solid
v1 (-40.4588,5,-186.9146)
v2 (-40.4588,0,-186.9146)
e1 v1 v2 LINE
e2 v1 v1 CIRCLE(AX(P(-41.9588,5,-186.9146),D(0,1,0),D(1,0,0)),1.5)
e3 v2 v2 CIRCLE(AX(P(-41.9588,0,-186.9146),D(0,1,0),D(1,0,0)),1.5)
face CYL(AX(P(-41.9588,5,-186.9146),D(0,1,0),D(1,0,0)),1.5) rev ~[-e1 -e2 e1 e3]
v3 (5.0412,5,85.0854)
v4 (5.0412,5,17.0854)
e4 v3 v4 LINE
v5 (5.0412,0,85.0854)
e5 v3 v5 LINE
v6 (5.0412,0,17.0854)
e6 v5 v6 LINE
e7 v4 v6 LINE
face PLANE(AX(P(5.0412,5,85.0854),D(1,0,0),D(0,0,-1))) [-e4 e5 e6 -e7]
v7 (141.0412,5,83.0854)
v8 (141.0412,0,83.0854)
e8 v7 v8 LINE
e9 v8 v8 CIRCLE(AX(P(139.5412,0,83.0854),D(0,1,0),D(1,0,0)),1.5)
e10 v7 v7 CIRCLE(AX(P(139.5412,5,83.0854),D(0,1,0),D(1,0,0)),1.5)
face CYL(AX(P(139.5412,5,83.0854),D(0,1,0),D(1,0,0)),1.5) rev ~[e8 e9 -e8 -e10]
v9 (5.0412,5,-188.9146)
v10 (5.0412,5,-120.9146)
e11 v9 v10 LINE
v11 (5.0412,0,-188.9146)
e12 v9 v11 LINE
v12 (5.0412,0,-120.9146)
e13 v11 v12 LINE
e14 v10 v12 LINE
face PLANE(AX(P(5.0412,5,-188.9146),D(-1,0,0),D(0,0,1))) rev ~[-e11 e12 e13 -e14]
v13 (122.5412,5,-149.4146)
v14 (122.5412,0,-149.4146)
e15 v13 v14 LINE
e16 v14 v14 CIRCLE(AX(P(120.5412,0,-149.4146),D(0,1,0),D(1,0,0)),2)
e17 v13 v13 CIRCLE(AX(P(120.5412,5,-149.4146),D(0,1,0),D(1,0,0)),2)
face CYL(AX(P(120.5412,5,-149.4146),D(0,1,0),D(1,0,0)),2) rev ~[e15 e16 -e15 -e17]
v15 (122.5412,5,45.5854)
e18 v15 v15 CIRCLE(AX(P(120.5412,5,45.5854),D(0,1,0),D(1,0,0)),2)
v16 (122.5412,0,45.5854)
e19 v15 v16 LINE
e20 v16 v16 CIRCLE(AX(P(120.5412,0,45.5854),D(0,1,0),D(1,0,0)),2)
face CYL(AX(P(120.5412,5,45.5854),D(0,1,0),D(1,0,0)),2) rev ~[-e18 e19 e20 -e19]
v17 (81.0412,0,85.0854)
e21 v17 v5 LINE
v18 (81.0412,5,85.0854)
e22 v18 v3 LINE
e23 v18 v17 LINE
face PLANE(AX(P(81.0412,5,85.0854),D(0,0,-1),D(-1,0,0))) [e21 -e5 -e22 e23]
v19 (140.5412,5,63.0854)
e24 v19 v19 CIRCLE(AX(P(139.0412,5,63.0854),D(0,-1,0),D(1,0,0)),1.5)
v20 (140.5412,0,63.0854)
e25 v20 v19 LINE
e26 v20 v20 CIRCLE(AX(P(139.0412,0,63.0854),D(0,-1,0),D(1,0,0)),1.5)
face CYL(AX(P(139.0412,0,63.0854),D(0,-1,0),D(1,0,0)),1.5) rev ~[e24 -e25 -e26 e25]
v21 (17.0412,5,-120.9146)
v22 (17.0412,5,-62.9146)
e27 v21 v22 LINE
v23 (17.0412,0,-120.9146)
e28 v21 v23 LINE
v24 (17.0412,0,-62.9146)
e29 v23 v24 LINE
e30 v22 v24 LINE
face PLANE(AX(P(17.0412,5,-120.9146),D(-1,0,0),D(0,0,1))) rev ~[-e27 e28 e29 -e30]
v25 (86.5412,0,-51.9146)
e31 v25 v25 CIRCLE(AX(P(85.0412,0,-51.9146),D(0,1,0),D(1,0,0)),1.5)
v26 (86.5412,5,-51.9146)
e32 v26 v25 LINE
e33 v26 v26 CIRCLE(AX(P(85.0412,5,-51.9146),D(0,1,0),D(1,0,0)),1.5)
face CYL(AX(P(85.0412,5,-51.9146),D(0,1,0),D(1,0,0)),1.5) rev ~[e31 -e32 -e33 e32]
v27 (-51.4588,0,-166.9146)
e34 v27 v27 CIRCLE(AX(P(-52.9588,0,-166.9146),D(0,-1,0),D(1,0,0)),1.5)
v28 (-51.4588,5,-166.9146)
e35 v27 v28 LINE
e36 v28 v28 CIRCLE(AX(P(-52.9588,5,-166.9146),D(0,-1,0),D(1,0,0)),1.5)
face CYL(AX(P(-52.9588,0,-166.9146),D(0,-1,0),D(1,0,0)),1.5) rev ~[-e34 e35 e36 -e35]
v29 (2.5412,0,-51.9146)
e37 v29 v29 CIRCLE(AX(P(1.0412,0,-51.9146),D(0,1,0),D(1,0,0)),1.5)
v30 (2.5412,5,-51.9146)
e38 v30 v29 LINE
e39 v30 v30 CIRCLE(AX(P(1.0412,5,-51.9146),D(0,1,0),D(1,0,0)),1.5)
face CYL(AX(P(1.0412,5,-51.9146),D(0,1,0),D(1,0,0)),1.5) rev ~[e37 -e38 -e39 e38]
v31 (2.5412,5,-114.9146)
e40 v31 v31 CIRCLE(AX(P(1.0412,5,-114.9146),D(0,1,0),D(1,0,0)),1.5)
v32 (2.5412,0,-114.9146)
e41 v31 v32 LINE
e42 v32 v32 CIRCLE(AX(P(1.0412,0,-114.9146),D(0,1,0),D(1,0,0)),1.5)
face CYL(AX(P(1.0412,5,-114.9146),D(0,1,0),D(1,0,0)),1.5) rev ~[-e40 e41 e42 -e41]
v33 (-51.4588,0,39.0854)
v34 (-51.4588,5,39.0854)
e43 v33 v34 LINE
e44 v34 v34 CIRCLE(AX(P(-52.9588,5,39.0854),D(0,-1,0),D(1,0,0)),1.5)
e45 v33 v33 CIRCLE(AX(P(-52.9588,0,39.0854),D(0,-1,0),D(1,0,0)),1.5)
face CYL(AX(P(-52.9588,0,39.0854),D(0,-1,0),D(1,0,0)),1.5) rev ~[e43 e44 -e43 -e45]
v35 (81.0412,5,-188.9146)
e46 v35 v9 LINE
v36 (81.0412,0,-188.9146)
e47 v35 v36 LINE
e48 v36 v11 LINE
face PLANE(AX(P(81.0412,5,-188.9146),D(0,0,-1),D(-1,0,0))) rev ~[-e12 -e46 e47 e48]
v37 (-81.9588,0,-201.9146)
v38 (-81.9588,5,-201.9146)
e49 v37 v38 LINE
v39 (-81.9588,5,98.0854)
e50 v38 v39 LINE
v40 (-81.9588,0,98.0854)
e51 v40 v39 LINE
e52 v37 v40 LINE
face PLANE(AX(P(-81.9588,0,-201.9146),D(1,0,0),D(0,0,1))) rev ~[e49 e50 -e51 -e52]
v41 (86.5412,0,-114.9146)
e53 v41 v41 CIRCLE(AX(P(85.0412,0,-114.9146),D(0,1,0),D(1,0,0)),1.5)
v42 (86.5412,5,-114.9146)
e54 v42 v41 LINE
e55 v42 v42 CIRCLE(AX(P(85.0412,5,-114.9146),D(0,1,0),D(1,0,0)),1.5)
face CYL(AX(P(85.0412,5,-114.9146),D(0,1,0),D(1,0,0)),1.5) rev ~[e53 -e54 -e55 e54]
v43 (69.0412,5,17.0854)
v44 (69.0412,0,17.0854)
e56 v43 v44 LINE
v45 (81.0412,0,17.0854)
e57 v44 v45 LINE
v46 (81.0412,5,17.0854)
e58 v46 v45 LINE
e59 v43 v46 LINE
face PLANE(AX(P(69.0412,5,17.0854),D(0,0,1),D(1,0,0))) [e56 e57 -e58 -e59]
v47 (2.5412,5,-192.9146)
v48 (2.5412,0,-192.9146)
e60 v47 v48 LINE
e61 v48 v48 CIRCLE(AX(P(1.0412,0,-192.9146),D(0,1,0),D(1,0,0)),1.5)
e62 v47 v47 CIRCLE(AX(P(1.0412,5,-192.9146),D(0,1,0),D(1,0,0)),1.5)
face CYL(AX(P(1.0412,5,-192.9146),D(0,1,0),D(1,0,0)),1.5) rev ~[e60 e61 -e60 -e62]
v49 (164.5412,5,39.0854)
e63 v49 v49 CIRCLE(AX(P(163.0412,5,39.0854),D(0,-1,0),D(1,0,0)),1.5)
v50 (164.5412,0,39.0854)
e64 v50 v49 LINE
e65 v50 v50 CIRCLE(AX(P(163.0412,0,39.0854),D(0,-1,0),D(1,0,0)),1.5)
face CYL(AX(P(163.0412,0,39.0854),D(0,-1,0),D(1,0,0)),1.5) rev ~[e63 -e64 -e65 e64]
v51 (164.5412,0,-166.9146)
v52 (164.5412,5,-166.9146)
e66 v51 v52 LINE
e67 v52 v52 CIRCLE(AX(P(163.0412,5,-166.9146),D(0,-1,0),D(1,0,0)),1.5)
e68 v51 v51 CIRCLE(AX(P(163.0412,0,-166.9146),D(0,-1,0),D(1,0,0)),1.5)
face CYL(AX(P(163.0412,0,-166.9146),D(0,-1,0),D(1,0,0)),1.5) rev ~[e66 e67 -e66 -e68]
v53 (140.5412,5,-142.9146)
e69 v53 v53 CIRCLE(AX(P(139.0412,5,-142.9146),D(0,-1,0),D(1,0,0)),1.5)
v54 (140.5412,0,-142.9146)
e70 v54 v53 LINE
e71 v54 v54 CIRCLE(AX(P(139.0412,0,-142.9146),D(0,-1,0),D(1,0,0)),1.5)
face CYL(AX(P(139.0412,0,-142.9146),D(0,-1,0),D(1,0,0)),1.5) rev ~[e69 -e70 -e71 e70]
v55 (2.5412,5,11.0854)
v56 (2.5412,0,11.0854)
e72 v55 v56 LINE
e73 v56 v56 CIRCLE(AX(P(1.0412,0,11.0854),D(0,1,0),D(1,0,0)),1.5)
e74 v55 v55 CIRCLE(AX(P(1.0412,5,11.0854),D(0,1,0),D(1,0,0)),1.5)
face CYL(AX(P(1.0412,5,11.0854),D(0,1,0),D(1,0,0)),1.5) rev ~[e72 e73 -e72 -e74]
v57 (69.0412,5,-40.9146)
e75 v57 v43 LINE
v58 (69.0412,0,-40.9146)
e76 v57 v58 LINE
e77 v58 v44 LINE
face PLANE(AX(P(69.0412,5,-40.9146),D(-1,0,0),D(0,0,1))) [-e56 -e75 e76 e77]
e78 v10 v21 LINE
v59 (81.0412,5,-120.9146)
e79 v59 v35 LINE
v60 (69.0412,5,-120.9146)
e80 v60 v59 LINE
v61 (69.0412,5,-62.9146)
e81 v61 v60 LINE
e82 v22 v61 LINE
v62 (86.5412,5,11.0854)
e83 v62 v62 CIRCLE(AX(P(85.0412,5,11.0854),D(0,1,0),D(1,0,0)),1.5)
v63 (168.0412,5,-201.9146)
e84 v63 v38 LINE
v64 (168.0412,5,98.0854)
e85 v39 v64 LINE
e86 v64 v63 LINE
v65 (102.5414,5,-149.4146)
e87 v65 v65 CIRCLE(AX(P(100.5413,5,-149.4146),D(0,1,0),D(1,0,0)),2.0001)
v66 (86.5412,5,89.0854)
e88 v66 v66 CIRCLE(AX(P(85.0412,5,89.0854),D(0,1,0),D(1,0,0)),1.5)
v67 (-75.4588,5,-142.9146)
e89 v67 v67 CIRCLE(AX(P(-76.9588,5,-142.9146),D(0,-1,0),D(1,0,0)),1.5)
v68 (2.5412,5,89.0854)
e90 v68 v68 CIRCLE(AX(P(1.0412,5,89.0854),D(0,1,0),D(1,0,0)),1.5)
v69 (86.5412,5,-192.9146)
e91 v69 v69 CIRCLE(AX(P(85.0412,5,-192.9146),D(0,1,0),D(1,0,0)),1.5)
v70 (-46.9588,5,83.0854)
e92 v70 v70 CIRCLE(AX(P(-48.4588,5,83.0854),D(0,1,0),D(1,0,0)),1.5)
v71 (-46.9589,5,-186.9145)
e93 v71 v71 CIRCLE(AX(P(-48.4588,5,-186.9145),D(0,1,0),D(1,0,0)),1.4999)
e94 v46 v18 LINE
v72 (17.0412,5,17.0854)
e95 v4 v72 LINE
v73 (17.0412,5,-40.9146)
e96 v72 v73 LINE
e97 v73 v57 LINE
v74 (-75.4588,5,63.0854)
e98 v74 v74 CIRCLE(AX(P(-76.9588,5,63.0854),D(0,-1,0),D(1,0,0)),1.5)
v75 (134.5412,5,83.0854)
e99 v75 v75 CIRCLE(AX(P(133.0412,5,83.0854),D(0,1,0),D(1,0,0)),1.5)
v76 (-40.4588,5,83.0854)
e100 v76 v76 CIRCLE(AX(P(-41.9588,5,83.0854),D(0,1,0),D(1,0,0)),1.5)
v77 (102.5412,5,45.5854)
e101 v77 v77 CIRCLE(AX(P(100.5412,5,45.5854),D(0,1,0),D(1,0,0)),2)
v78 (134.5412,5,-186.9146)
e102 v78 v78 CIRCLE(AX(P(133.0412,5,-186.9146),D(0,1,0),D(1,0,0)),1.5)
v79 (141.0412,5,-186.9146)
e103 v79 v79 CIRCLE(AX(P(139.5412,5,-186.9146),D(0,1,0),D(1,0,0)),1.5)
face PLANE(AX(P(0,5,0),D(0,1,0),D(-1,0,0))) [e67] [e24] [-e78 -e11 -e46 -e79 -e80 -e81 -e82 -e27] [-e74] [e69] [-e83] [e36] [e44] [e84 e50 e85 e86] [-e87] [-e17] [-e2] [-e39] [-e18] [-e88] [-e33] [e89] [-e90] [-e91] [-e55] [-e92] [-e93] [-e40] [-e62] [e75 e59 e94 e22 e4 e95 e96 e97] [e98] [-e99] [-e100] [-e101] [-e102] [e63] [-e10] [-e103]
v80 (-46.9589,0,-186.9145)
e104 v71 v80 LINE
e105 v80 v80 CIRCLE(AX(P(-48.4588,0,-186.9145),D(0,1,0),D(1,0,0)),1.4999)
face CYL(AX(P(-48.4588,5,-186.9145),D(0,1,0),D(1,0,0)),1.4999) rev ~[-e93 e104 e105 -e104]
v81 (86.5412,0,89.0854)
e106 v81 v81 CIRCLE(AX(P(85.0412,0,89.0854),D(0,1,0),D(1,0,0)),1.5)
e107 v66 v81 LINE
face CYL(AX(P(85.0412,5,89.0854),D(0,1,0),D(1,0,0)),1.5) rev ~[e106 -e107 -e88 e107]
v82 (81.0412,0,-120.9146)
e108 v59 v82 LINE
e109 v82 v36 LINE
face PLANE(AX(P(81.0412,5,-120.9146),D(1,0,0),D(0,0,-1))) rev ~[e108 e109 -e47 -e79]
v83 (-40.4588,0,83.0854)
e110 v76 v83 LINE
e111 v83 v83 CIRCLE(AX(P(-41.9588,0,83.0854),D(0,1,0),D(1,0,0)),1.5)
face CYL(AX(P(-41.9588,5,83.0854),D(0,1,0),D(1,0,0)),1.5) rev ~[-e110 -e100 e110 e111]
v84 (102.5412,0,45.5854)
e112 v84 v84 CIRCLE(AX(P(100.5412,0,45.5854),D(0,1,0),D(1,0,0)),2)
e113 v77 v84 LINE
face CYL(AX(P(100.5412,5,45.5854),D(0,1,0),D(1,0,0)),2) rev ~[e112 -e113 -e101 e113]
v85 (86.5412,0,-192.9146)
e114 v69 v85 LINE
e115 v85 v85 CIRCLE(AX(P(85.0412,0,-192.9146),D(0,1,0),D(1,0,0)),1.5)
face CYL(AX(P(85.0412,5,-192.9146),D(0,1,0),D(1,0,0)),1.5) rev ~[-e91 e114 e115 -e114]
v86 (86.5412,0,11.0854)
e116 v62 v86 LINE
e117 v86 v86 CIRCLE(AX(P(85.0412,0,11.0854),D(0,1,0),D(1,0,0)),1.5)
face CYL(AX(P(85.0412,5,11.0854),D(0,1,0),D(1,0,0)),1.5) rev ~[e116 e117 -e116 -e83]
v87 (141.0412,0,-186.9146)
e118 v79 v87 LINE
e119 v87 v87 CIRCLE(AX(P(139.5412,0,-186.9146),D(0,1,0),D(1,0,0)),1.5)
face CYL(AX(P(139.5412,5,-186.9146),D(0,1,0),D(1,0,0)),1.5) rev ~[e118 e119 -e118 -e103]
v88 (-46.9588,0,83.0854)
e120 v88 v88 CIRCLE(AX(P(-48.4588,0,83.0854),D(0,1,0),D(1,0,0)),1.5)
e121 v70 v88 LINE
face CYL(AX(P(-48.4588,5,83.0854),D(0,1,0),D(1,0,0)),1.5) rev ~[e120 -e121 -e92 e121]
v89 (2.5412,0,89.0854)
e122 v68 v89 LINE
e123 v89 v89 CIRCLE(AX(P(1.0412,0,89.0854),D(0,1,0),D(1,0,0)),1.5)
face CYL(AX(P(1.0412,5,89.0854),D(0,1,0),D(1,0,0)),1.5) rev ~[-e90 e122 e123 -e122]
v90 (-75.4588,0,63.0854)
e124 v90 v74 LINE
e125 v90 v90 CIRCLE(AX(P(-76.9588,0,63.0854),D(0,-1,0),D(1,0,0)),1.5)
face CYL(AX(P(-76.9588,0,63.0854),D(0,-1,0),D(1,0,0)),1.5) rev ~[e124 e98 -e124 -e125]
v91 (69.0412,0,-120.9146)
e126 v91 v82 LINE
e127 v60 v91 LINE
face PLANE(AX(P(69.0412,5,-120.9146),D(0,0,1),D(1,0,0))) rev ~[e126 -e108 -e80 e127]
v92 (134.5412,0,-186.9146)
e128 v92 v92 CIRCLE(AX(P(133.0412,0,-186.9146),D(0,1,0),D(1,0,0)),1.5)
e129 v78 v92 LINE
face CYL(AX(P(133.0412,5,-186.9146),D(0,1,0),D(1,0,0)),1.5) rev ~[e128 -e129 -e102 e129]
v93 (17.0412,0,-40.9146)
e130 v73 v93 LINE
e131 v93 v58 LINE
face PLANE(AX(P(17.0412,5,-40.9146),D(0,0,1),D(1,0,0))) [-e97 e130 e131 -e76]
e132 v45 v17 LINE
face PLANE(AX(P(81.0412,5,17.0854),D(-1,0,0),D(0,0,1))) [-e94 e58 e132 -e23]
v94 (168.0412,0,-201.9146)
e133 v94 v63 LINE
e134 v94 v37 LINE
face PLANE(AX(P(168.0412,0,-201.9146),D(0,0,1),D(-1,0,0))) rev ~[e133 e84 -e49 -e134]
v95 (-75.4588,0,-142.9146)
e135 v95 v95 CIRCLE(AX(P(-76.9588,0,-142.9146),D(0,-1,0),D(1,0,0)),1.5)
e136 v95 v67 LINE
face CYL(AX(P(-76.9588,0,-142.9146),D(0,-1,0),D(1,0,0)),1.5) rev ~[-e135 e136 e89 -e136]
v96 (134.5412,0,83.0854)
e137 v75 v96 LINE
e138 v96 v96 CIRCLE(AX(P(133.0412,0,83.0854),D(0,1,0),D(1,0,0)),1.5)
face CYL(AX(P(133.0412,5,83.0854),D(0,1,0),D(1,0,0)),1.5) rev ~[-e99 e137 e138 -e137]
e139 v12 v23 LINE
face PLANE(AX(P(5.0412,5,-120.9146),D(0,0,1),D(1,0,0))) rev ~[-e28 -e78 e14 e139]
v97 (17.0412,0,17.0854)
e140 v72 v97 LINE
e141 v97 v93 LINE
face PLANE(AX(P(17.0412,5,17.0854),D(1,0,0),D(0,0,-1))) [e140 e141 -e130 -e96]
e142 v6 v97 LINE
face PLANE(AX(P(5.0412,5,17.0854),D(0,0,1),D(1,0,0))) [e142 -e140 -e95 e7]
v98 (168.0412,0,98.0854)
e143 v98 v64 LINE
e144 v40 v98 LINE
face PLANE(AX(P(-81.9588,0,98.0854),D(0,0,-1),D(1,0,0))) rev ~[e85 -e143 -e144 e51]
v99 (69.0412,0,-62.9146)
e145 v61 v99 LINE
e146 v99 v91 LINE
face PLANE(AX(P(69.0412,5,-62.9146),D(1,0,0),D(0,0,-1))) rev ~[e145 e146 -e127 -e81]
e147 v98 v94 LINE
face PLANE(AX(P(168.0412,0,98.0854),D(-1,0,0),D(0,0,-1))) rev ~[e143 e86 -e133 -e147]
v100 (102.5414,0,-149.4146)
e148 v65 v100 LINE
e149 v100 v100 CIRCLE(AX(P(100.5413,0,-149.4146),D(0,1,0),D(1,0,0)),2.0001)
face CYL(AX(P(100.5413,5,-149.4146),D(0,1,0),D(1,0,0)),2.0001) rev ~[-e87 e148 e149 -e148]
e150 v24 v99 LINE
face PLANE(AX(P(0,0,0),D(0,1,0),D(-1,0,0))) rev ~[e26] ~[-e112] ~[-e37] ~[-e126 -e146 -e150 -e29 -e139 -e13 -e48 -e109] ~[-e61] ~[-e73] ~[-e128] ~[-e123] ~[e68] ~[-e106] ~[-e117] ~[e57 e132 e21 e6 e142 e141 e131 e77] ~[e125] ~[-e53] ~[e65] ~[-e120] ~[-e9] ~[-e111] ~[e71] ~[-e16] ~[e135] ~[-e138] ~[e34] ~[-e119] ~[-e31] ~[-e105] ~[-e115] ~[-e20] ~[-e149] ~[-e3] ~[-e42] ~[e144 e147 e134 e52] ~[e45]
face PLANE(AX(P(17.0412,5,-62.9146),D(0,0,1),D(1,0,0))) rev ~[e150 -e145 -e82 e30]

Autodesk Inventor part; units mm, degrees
ref_plane "YZ Plane" through (0, 0, 0) normal (1, 0, 0) x (0, 1, 0)
ref_plane "XZ Plane" through (0, 0, 0) normal (0, 1, 0) x (-1, 0, 0)
ref_plane "XY Plane" through (0, 0, 0) normal (0, 0, 1) x (1, 0, 0)
sketch "Esquisse1" plane through (0, 0, 0) normal (0, 1, 0) x (-1, 0, 0)
  line L0 (81.9588, 98.0854) -> (-168.0412, 98.0854)
  line L1 (-168.0412, 98.0854) -> (-168.0412, -201.9146)
  line L2 (-168.0412, -201.9146) -> (81.9588, -201.9146)
  line L3 (81.9588, -201.9146) -> (81.9588, 98.0854)
  point P0 (0, 0)
  dimension "d0" = 300
  dimension "d1" = 250
extrude "Extrusion1" add sketch "Esquisse1" along normal blind 5
sketch "Sketch3" plane through (0, 5, 0) normal (0, 1, 0) x (1, 0, 0)
  line L0 (81.0412, -85.0854) -> (5.0412, -85.0854)
  line L1 (5.0412, -85.0854) -> (5.0412, -17.0854)
  line L2 (81.0412, -17.0854) -> (81.0412, -85.0854)
  line L3 (-81.9588, -98.0854) -> (168.0412, -98.0854) projected
  line L4 (168.0412, -98.0854) -> (168.0412, 201.9146) projected
  line L5 (17.0412, -17.0854) -> (17.0412, 40.9146)
  line L6 (17.0412, 40.9146) -> (69.0412, 40.9146)
  line L7 (69.0412, 40.9146) -> (69.0412, -17.0854)
  line L8 (5.0412, -17.0854) -> (17.0412, -17.0854)
  line L9 (69.0412, -17.0854) -> (81.0412, -17.0854)
  line L10 (81.0412, 188.9146) -> (5.0412, 188.9146)
  line L11 (5.0412, 188.9146) -> (5.0412, 120.9146)
  line L12 (81.0412, 120.9146) -> (81.0412, 188.9146)
  line L13 (168.0412, 201.9146) -> (-81.9588, 201.9146) projected
  line L14 (17.0412, 120.9146) -> (17.0412, 62.9146)
  line L15 (17.0412, 62.9146) -> (69.0412, 62.9146)
  line L16 (69.0412, 62.9146) -> (69.0412, 120.9146)
  line L17 (5.0412, 120.9146) -> (17.0412, 120.9146)
  line L18 (69.0412, 120.9146) -> (81.0412, 120.9146)
  circle A0 centre (85.0412, 51.9146) radius 1.5
  line L19 (-81.9588, 201.9146) -> (-81.9588, -98.0854) projected
  circle A1 centre (1.0412, 51.9146) radius 1.5
  point P0 (0, 0)
  dimension "d17" = 76
  dimension "d18" = 68
  dimension "d19" = 13
  dimension "d20" = 87
  dimension "d21" = 12
  dimension "d22" = 12
  dimension "d23" = 58
  dimension "d24" = 68
  dimension "d25" = 52
  dimension "d26" = 13
  dimension "d27" = 76
  dimension "d28" = 68
  dimension "d29" = 87
  dimension "d30" = 12
  dimension "d31" = 12
  dimension "d32" = 58
  dimension "d33" = 52
  dimension "d34" = 68
  dimension "d39" = 3
  dimension "d53" = 83
  dimension "d54" = 150
  dimension "d58" = 3
  dimension "d59" = 83
  dimension "d60" = 150
extrude "Extrusion3" cut sketch "Sketch3" against normal through all contours L0 L1 L8 L5 L6 L7 L9 L2 | L12 L18 L16 L15 L14 L17 L11 L10 | A0 | A1
sketch "Sketch4" plane through (0, 5, 0) normal (0, 1, 0) x (1, 0, 0)
  circle A0 centre (1.0412, -89.0854) radius 1.5 projected
  circle A1 centre (1.0412, -11.0854) radius 1.5 projected
  circle A2 centre (85.0412, -89.0854) radius 1.5 projected
  circle A3 centre (85.0412, -11.0854) radius 1.5 projected
  circle A4 centre (1.0412, 114.9146) radius 1.5 projected
  circle A5 centre (1.0412, 192.9146) radius 1.5 projected
  circle A6 centre (85.0412, 192.9146) radius 1.5 projected
  circle A7 centre (85.0412, 114.9146) radius 1.5 projected
  point P0 (0, 0)
extrude "Extrusion4" cut sketch "Sketch4" against normal up to next
sketch "Esquisse5" plane through (0, 5, 0) normal (0, 1, 0) x (1, 0, 0)
  circle A0 centre (139.5412, -83.0854) radius 1.5 projected
  circle A1 centre (133.0412, -83.0854) radius 1.5 projected
  circle A2 centre (133.0412, 186.9146) radius 1.5 projected
  circle A3 centre (139.5412, 186.9146) radius 1.5 projected
  circle A4 centre (-41.9588, 186.9146) radius 1.5 projected
  circle A5 centre (-48.4588, 186.9145) radius 1.4999 projected
  circle A6 centre (-41.9588, -83.0854) radius 1.5 projected
  circle A7 centre (85.0412, 192.9146) radius 1.5 projected
  circle A8 centre (1.0412, 114.9146) radius 1.5 projected
  circle A9 centre (85.0412, -89.0854) radius 1.5 projected
  circle A10 centre (1.0412, -89.0854) radius 1.5 projected
  circle A11 centre (1.0412, -11.0854) radius 1.5 projected
  circle A12 centre (85.0412, -11.0854) radius 1.5 projected
  circle A13 centre (1.0412, 192.9146) radius 1.5 projected
  circle A14 centre (85.0412, 114.9146) radius 1.5 projected
  line L0 (81.0412, -17.0854) -> (81.0412, -85.0854) projected
  line L1 (81.0412, -85.0854) -> (5.0412, -85.0854) projected
  line L2 (5.0412, -85.0854) -> (5.0412, -17.0854) projected
  line L3 (5.0412, -17.0854) -> (17.0412, -17.0854) projected
  line L4 (17.0412, -17.0854) -> (17.0412, 40.9146) projected
  line L5 (17.0412, 40.9146) -> (69.0412, 40.9146) projected
  line L6 (69.0412, 40.9146) -> (69.0412, -17.0854) projected
  line L7 (69.0412, -17.0854) -> (81.0412, -17.0854) projected
  circle A15 centre (85.0412, 51.9146) radius 1.5 projected
  circle A16 centre (1.0412, 51.9146) radius 1.5 projected
  line L8 (5.0412, 120.9146) -> (5.0412, 188.9146) projected
  line L9 (5.0412, 188.9146) -> (81.0412, 188.9146) projected
  line L10 (81.0412, 188.9146) -> (81.0412, 120.9146) projected
  line L11 (81.0412, 120.9146) -> (69.0412, 120.9146) projected
  line L12 (69.0412, 120.9146) -> (69.0412, 62.9146) projected
  line L13 (69.0412, 62.9146) -> (17.0412, 62.9146) projected
  line L14 (17.0412, 62.9146) -> (17.0412, 120.9146) projected
  line L15 (17.0412, 120.9146) -> (5.0412, 120.9146) projected
  line L16 (-81.9588, -98.0854) -> (168.0412, -98.0854) projected
  line L17 (168.0412, -98.0854) -> (168.0412, 201.9146) projected
  line L18 (168.0412, 201.9146) -> (-81.9588, 201.9146) projected
  line L19 (-81.9588, 201.9146) -> (-81.9588, -98.0854) projected
  circle A17 centre (-48.4588, -83.0854) radius 1.5 projected
  point P0 (0, 0)
extrude "Extrusion5" cut sketch "Esquisse5" against normal up to next contours A0 | A1 | A2 | A3 | A4 | A5 | A6 | A17
sketch "Esquisse6" plane through (0, 0, 0) normal (0, -1, 0) x (1, 0, 0)
  circle A0 centre (-76.9588, -142.9146) radius 1.5 projected
  circle A1 centre (-52.9588, -166.9146) radius 1.5 projected
  circle A2 centre (-76.9588, 63.0854) radius 1.5 projected
  circle A3 centre (-52.9588, 39.0854) radius 1.5 projected
  circle A4 centre (139.0412, 63.0854) radius 1.5 projected
  circle A5 centre (163.0412, 39.0854) radius 1.5 projected
  circle A6 centre (139.0412, -142.9146) radius 1.5 projected
  circle A7 centre (163.0412, -166.9146) radius 1.5 projected
  point P0 (0, 0)
extrude "Extrusion6" cut sketch "Esquisse6" against normal up to next
sketch "Esquisse7" plane through (0, 5, 0) normal (0, 1, 0) x (1, 0, 0)
  circle A0 centre (152.0412, 161.9146) radius 1.5 projected
  circle A1 centre (-65.9588, 51.9146) radius 1.5 projected
  circle A2 centre (152.0412, 51.9146) radius 1.5 projected
  circle A3 centre (152.0412, -58.0854) radius 1.5 projected
  line L0 (-81.9588, 201.9146) -> (168.0412, 201.9146) projected
  line L1 (-81.9588, -98.0854) -> (-81.9588, 201.9146) projected
  line L2 (168.0412, -98.0854) -> (-81.9588, -98.0854) projected
  line L3 (168.0412, 201.9146) -> (168.0412, -98.0854) projected
  circle A4 centre (152.0412, 161.9146) radius 1.5 projected
  circle A5 centre (-65.9588, 51.9146) radius 1.5 projected
  circle A6 centre (152.0412, 51.9146) radius 1.5 projected
  circle A7 centre (152.0412, -58.0854) radius 1.5 projected
  line L4 (-81.9588, 201.9146) -> (168.0412, 201.9146) projected
  line L5 (-81.9588, -98.0854) -> (-81.9588, 201.9146) projected
  line L6 (168.0412, -98.0854) -> (-81.9588, -98.0854) projected
  line L7 (168.0412, 201.9146) -> (168.0412, -98.0854) projected
  circle A8 centre (152.0412, 161.9146) radius 1.5 projected
  circle A9 centre (-65.9588, 51.9146) radius 1.5 projected
  circle A10 centre (152.0412, 51.9146) radius 1.5 projected
  circle A11 centre (152.0412, -58.0854) radius 1.5 projected
  line L8 (-81.9588, 201.9146) -> (168.0412, 201.9146) projected
  line L9 (-81.9588, -98.0854) -> (-81.9588, 201.9146) projected
  line L10 (168.0412, -98.0854) -> (-81.9588, -98.0854) projected
  line L11 (168.0412, 201.9146) -> (168.0412, -98.0854) projected
  circle A12 centre (139.0412, 142.9146) radius 1.5 projected
  circle A13 centre (139.0412, -63.0854) radius 1.5 projected
  circle A14 centre (-76.9588, -63.0854) radius 1.5 projected
  circle A15 centre (-76.9588, 142.9146) radius 1.5 projected
  circle A16 centre (-52.9588, 166.9146) radius 1.5 projected
  circle A17 centre (-52.9588, -39.0854) radius 1.5 projected
  circle A18 centre (163.0412, -39.0854) radius 1.5 projected
  circle A19 centre (163.0412, 166.9146) radius 1.5 projected
  circle A20 centre (133.0412, -83.0854) radius 1.5 projected
  circle A21 centre (-41.9588, 186.9146) radius 1.5 projected
  circle A22 centre (133.0412, 186.9146) radius 1.5 projected
  circle A23 centre (-48.4588, 186.9145) radius 1.4999 projected
  circle A24 centre (139.5412, 186.9146) radius 1.5 projected
  circle A25 centre (-41.9588, -83.0854) radius 1.5 projected
  circle A26 centre (139.5412, -83.0854) radius 1.5 projected
  circle A27 centre (-48.4588, -83.0854) radius 1.5 projected
  circle A28 centre (85.0412, 192.9146) radius 1.5 projected
  circle A29 centre (1.0412, 114.9146) radius 1.5 projected
  circle A30 centre (85.0412, -89.0854) radius 1.5 projected
  circle A31 centre (1.0412, -89.0854) radius 1.5 projected
  circle A32 centre (1.0412, -11.0854) radius 1.5 projected
  circle A33 centre (85.0412, -11.0854) radius 1.5 projected
  circle A34 centre (1.0412, 192.9146) radius 1.5 projected
  circle A35 centre (85.0412, 114.9146) radius 1.5 projected
  line L12 (81.0412, -17.0854) -> (81.0412, -85.0854) projected
  line L13 (81.0412, -85.0854) -> (5.0412, -85.0854) projected
  line L14 (5.0412, -85.0854) -> (5.0412, -17.0854) projected
  line L15 (5.0412, -17.0854) -> (17.0412, -17.0854) projected
  line L16 (17.0412, -17.0854) -> (17.0412, 40.9146) projected
  line L17 (17.0412, 40.9146) -> (69.0412, 40.9146) projected
  line L18 (69.0412, 40.9146) -> (69.0412, -17.0854) projected
  line L19 (69.0412, -17.0854) -> (81.0412, -17.0854) projected
  circle A36 centre (85.0412, 51.9146) radius 1.5 projected
  circle A37 centre (1.0412, 51.9146) radius 1.5 projected
  line L20 (5.0412, 120.9146) -> (5.0412, 188.9146) projected
  line L21 (5.0412, 188.9146) -> (81.0412, 188.9146) projected
  line L22 (81.0412, 188.9146) -> (81.0412, 120.9146) projected
  line L23 (81.0412, 120.9146) -> (69.0412, 120.9146) projected
  line L24 (69.0412, 120.9146) -> (69.0412, 62.9146) projected
  line L25 (69.0412, 62.9146) -> (17.0412, 62.9146) projected
  line L26 (17.0412, 62.9146) -> (17.0412, 120.9146) projected
  line L27 (17.0412, 120.9146) -> (5.0412, 120.9146) projected
  line L28 (-81.9588, -98.0854) -> (168.0412, -98.0854) projected
  line L29 (168.0412, -98.0854) -> (168.0412, 201.9146) projected
  line L30 (168.0412, 201.9146) -> (-81.9588, 201.9146) projected
  line L31 (-81.9588, 201.9146) -> (-81.9588, -98.0854) projected
  circle A38 centre (100.5413, 149.4146) radius 2.0001 projected
  circle A39 centre (120.5412, 149.4146) radius 2 projected
  circle A40 centre (100.5412, -45.5854) radius 2 projected
  circle A41 centre (120.5412, -45.5854) radius 2 projected
  circle A42 centre (75.0412, 19.9146) radius 2 projected
  circle A43 centre (11.0412, 83.9146) radius 2 projected
  circle A44 centre (11.0412, 19.9146) radius 2 projected
  circle A45 centre (75.0412, 83.9146) radius 2 projected
  circle A46 centre (-61.9588, 171.9146) radius 7.5 projected
  circle A47 centre (75.0412, 19.9146) radius 2 projected
  circle A48 centre (11.0412, 83.9146) radius 2 projected
  circle A49 centre (11.0412, 19.9146) radius 2 projected
  circle A50 centre (75.0412, 83.9146) radius 2 projected
  circle A51 centre (-61.9588, 171.9146) radius 7.5 projected
  circle A52 centre (75.0412, 19.9146) radius 2 projected
  circle A53 centre (11.0412, 83.9146) radius 2 projected
  circle A54 centre (11.0412, 19.9146) radius 2 projected
  circle A55 centre (75.0412, 83.9146) radius 2 projected
  circle A56 centre (-61.9588, 171.9146) radius 7.5 projected
  point P0 (0, 0)
extrude "Extrusion7" cut sketch "Esquisse7" against normal up to next contours A38 | A39 | A40 | A41
properties part number "socle-robot"
